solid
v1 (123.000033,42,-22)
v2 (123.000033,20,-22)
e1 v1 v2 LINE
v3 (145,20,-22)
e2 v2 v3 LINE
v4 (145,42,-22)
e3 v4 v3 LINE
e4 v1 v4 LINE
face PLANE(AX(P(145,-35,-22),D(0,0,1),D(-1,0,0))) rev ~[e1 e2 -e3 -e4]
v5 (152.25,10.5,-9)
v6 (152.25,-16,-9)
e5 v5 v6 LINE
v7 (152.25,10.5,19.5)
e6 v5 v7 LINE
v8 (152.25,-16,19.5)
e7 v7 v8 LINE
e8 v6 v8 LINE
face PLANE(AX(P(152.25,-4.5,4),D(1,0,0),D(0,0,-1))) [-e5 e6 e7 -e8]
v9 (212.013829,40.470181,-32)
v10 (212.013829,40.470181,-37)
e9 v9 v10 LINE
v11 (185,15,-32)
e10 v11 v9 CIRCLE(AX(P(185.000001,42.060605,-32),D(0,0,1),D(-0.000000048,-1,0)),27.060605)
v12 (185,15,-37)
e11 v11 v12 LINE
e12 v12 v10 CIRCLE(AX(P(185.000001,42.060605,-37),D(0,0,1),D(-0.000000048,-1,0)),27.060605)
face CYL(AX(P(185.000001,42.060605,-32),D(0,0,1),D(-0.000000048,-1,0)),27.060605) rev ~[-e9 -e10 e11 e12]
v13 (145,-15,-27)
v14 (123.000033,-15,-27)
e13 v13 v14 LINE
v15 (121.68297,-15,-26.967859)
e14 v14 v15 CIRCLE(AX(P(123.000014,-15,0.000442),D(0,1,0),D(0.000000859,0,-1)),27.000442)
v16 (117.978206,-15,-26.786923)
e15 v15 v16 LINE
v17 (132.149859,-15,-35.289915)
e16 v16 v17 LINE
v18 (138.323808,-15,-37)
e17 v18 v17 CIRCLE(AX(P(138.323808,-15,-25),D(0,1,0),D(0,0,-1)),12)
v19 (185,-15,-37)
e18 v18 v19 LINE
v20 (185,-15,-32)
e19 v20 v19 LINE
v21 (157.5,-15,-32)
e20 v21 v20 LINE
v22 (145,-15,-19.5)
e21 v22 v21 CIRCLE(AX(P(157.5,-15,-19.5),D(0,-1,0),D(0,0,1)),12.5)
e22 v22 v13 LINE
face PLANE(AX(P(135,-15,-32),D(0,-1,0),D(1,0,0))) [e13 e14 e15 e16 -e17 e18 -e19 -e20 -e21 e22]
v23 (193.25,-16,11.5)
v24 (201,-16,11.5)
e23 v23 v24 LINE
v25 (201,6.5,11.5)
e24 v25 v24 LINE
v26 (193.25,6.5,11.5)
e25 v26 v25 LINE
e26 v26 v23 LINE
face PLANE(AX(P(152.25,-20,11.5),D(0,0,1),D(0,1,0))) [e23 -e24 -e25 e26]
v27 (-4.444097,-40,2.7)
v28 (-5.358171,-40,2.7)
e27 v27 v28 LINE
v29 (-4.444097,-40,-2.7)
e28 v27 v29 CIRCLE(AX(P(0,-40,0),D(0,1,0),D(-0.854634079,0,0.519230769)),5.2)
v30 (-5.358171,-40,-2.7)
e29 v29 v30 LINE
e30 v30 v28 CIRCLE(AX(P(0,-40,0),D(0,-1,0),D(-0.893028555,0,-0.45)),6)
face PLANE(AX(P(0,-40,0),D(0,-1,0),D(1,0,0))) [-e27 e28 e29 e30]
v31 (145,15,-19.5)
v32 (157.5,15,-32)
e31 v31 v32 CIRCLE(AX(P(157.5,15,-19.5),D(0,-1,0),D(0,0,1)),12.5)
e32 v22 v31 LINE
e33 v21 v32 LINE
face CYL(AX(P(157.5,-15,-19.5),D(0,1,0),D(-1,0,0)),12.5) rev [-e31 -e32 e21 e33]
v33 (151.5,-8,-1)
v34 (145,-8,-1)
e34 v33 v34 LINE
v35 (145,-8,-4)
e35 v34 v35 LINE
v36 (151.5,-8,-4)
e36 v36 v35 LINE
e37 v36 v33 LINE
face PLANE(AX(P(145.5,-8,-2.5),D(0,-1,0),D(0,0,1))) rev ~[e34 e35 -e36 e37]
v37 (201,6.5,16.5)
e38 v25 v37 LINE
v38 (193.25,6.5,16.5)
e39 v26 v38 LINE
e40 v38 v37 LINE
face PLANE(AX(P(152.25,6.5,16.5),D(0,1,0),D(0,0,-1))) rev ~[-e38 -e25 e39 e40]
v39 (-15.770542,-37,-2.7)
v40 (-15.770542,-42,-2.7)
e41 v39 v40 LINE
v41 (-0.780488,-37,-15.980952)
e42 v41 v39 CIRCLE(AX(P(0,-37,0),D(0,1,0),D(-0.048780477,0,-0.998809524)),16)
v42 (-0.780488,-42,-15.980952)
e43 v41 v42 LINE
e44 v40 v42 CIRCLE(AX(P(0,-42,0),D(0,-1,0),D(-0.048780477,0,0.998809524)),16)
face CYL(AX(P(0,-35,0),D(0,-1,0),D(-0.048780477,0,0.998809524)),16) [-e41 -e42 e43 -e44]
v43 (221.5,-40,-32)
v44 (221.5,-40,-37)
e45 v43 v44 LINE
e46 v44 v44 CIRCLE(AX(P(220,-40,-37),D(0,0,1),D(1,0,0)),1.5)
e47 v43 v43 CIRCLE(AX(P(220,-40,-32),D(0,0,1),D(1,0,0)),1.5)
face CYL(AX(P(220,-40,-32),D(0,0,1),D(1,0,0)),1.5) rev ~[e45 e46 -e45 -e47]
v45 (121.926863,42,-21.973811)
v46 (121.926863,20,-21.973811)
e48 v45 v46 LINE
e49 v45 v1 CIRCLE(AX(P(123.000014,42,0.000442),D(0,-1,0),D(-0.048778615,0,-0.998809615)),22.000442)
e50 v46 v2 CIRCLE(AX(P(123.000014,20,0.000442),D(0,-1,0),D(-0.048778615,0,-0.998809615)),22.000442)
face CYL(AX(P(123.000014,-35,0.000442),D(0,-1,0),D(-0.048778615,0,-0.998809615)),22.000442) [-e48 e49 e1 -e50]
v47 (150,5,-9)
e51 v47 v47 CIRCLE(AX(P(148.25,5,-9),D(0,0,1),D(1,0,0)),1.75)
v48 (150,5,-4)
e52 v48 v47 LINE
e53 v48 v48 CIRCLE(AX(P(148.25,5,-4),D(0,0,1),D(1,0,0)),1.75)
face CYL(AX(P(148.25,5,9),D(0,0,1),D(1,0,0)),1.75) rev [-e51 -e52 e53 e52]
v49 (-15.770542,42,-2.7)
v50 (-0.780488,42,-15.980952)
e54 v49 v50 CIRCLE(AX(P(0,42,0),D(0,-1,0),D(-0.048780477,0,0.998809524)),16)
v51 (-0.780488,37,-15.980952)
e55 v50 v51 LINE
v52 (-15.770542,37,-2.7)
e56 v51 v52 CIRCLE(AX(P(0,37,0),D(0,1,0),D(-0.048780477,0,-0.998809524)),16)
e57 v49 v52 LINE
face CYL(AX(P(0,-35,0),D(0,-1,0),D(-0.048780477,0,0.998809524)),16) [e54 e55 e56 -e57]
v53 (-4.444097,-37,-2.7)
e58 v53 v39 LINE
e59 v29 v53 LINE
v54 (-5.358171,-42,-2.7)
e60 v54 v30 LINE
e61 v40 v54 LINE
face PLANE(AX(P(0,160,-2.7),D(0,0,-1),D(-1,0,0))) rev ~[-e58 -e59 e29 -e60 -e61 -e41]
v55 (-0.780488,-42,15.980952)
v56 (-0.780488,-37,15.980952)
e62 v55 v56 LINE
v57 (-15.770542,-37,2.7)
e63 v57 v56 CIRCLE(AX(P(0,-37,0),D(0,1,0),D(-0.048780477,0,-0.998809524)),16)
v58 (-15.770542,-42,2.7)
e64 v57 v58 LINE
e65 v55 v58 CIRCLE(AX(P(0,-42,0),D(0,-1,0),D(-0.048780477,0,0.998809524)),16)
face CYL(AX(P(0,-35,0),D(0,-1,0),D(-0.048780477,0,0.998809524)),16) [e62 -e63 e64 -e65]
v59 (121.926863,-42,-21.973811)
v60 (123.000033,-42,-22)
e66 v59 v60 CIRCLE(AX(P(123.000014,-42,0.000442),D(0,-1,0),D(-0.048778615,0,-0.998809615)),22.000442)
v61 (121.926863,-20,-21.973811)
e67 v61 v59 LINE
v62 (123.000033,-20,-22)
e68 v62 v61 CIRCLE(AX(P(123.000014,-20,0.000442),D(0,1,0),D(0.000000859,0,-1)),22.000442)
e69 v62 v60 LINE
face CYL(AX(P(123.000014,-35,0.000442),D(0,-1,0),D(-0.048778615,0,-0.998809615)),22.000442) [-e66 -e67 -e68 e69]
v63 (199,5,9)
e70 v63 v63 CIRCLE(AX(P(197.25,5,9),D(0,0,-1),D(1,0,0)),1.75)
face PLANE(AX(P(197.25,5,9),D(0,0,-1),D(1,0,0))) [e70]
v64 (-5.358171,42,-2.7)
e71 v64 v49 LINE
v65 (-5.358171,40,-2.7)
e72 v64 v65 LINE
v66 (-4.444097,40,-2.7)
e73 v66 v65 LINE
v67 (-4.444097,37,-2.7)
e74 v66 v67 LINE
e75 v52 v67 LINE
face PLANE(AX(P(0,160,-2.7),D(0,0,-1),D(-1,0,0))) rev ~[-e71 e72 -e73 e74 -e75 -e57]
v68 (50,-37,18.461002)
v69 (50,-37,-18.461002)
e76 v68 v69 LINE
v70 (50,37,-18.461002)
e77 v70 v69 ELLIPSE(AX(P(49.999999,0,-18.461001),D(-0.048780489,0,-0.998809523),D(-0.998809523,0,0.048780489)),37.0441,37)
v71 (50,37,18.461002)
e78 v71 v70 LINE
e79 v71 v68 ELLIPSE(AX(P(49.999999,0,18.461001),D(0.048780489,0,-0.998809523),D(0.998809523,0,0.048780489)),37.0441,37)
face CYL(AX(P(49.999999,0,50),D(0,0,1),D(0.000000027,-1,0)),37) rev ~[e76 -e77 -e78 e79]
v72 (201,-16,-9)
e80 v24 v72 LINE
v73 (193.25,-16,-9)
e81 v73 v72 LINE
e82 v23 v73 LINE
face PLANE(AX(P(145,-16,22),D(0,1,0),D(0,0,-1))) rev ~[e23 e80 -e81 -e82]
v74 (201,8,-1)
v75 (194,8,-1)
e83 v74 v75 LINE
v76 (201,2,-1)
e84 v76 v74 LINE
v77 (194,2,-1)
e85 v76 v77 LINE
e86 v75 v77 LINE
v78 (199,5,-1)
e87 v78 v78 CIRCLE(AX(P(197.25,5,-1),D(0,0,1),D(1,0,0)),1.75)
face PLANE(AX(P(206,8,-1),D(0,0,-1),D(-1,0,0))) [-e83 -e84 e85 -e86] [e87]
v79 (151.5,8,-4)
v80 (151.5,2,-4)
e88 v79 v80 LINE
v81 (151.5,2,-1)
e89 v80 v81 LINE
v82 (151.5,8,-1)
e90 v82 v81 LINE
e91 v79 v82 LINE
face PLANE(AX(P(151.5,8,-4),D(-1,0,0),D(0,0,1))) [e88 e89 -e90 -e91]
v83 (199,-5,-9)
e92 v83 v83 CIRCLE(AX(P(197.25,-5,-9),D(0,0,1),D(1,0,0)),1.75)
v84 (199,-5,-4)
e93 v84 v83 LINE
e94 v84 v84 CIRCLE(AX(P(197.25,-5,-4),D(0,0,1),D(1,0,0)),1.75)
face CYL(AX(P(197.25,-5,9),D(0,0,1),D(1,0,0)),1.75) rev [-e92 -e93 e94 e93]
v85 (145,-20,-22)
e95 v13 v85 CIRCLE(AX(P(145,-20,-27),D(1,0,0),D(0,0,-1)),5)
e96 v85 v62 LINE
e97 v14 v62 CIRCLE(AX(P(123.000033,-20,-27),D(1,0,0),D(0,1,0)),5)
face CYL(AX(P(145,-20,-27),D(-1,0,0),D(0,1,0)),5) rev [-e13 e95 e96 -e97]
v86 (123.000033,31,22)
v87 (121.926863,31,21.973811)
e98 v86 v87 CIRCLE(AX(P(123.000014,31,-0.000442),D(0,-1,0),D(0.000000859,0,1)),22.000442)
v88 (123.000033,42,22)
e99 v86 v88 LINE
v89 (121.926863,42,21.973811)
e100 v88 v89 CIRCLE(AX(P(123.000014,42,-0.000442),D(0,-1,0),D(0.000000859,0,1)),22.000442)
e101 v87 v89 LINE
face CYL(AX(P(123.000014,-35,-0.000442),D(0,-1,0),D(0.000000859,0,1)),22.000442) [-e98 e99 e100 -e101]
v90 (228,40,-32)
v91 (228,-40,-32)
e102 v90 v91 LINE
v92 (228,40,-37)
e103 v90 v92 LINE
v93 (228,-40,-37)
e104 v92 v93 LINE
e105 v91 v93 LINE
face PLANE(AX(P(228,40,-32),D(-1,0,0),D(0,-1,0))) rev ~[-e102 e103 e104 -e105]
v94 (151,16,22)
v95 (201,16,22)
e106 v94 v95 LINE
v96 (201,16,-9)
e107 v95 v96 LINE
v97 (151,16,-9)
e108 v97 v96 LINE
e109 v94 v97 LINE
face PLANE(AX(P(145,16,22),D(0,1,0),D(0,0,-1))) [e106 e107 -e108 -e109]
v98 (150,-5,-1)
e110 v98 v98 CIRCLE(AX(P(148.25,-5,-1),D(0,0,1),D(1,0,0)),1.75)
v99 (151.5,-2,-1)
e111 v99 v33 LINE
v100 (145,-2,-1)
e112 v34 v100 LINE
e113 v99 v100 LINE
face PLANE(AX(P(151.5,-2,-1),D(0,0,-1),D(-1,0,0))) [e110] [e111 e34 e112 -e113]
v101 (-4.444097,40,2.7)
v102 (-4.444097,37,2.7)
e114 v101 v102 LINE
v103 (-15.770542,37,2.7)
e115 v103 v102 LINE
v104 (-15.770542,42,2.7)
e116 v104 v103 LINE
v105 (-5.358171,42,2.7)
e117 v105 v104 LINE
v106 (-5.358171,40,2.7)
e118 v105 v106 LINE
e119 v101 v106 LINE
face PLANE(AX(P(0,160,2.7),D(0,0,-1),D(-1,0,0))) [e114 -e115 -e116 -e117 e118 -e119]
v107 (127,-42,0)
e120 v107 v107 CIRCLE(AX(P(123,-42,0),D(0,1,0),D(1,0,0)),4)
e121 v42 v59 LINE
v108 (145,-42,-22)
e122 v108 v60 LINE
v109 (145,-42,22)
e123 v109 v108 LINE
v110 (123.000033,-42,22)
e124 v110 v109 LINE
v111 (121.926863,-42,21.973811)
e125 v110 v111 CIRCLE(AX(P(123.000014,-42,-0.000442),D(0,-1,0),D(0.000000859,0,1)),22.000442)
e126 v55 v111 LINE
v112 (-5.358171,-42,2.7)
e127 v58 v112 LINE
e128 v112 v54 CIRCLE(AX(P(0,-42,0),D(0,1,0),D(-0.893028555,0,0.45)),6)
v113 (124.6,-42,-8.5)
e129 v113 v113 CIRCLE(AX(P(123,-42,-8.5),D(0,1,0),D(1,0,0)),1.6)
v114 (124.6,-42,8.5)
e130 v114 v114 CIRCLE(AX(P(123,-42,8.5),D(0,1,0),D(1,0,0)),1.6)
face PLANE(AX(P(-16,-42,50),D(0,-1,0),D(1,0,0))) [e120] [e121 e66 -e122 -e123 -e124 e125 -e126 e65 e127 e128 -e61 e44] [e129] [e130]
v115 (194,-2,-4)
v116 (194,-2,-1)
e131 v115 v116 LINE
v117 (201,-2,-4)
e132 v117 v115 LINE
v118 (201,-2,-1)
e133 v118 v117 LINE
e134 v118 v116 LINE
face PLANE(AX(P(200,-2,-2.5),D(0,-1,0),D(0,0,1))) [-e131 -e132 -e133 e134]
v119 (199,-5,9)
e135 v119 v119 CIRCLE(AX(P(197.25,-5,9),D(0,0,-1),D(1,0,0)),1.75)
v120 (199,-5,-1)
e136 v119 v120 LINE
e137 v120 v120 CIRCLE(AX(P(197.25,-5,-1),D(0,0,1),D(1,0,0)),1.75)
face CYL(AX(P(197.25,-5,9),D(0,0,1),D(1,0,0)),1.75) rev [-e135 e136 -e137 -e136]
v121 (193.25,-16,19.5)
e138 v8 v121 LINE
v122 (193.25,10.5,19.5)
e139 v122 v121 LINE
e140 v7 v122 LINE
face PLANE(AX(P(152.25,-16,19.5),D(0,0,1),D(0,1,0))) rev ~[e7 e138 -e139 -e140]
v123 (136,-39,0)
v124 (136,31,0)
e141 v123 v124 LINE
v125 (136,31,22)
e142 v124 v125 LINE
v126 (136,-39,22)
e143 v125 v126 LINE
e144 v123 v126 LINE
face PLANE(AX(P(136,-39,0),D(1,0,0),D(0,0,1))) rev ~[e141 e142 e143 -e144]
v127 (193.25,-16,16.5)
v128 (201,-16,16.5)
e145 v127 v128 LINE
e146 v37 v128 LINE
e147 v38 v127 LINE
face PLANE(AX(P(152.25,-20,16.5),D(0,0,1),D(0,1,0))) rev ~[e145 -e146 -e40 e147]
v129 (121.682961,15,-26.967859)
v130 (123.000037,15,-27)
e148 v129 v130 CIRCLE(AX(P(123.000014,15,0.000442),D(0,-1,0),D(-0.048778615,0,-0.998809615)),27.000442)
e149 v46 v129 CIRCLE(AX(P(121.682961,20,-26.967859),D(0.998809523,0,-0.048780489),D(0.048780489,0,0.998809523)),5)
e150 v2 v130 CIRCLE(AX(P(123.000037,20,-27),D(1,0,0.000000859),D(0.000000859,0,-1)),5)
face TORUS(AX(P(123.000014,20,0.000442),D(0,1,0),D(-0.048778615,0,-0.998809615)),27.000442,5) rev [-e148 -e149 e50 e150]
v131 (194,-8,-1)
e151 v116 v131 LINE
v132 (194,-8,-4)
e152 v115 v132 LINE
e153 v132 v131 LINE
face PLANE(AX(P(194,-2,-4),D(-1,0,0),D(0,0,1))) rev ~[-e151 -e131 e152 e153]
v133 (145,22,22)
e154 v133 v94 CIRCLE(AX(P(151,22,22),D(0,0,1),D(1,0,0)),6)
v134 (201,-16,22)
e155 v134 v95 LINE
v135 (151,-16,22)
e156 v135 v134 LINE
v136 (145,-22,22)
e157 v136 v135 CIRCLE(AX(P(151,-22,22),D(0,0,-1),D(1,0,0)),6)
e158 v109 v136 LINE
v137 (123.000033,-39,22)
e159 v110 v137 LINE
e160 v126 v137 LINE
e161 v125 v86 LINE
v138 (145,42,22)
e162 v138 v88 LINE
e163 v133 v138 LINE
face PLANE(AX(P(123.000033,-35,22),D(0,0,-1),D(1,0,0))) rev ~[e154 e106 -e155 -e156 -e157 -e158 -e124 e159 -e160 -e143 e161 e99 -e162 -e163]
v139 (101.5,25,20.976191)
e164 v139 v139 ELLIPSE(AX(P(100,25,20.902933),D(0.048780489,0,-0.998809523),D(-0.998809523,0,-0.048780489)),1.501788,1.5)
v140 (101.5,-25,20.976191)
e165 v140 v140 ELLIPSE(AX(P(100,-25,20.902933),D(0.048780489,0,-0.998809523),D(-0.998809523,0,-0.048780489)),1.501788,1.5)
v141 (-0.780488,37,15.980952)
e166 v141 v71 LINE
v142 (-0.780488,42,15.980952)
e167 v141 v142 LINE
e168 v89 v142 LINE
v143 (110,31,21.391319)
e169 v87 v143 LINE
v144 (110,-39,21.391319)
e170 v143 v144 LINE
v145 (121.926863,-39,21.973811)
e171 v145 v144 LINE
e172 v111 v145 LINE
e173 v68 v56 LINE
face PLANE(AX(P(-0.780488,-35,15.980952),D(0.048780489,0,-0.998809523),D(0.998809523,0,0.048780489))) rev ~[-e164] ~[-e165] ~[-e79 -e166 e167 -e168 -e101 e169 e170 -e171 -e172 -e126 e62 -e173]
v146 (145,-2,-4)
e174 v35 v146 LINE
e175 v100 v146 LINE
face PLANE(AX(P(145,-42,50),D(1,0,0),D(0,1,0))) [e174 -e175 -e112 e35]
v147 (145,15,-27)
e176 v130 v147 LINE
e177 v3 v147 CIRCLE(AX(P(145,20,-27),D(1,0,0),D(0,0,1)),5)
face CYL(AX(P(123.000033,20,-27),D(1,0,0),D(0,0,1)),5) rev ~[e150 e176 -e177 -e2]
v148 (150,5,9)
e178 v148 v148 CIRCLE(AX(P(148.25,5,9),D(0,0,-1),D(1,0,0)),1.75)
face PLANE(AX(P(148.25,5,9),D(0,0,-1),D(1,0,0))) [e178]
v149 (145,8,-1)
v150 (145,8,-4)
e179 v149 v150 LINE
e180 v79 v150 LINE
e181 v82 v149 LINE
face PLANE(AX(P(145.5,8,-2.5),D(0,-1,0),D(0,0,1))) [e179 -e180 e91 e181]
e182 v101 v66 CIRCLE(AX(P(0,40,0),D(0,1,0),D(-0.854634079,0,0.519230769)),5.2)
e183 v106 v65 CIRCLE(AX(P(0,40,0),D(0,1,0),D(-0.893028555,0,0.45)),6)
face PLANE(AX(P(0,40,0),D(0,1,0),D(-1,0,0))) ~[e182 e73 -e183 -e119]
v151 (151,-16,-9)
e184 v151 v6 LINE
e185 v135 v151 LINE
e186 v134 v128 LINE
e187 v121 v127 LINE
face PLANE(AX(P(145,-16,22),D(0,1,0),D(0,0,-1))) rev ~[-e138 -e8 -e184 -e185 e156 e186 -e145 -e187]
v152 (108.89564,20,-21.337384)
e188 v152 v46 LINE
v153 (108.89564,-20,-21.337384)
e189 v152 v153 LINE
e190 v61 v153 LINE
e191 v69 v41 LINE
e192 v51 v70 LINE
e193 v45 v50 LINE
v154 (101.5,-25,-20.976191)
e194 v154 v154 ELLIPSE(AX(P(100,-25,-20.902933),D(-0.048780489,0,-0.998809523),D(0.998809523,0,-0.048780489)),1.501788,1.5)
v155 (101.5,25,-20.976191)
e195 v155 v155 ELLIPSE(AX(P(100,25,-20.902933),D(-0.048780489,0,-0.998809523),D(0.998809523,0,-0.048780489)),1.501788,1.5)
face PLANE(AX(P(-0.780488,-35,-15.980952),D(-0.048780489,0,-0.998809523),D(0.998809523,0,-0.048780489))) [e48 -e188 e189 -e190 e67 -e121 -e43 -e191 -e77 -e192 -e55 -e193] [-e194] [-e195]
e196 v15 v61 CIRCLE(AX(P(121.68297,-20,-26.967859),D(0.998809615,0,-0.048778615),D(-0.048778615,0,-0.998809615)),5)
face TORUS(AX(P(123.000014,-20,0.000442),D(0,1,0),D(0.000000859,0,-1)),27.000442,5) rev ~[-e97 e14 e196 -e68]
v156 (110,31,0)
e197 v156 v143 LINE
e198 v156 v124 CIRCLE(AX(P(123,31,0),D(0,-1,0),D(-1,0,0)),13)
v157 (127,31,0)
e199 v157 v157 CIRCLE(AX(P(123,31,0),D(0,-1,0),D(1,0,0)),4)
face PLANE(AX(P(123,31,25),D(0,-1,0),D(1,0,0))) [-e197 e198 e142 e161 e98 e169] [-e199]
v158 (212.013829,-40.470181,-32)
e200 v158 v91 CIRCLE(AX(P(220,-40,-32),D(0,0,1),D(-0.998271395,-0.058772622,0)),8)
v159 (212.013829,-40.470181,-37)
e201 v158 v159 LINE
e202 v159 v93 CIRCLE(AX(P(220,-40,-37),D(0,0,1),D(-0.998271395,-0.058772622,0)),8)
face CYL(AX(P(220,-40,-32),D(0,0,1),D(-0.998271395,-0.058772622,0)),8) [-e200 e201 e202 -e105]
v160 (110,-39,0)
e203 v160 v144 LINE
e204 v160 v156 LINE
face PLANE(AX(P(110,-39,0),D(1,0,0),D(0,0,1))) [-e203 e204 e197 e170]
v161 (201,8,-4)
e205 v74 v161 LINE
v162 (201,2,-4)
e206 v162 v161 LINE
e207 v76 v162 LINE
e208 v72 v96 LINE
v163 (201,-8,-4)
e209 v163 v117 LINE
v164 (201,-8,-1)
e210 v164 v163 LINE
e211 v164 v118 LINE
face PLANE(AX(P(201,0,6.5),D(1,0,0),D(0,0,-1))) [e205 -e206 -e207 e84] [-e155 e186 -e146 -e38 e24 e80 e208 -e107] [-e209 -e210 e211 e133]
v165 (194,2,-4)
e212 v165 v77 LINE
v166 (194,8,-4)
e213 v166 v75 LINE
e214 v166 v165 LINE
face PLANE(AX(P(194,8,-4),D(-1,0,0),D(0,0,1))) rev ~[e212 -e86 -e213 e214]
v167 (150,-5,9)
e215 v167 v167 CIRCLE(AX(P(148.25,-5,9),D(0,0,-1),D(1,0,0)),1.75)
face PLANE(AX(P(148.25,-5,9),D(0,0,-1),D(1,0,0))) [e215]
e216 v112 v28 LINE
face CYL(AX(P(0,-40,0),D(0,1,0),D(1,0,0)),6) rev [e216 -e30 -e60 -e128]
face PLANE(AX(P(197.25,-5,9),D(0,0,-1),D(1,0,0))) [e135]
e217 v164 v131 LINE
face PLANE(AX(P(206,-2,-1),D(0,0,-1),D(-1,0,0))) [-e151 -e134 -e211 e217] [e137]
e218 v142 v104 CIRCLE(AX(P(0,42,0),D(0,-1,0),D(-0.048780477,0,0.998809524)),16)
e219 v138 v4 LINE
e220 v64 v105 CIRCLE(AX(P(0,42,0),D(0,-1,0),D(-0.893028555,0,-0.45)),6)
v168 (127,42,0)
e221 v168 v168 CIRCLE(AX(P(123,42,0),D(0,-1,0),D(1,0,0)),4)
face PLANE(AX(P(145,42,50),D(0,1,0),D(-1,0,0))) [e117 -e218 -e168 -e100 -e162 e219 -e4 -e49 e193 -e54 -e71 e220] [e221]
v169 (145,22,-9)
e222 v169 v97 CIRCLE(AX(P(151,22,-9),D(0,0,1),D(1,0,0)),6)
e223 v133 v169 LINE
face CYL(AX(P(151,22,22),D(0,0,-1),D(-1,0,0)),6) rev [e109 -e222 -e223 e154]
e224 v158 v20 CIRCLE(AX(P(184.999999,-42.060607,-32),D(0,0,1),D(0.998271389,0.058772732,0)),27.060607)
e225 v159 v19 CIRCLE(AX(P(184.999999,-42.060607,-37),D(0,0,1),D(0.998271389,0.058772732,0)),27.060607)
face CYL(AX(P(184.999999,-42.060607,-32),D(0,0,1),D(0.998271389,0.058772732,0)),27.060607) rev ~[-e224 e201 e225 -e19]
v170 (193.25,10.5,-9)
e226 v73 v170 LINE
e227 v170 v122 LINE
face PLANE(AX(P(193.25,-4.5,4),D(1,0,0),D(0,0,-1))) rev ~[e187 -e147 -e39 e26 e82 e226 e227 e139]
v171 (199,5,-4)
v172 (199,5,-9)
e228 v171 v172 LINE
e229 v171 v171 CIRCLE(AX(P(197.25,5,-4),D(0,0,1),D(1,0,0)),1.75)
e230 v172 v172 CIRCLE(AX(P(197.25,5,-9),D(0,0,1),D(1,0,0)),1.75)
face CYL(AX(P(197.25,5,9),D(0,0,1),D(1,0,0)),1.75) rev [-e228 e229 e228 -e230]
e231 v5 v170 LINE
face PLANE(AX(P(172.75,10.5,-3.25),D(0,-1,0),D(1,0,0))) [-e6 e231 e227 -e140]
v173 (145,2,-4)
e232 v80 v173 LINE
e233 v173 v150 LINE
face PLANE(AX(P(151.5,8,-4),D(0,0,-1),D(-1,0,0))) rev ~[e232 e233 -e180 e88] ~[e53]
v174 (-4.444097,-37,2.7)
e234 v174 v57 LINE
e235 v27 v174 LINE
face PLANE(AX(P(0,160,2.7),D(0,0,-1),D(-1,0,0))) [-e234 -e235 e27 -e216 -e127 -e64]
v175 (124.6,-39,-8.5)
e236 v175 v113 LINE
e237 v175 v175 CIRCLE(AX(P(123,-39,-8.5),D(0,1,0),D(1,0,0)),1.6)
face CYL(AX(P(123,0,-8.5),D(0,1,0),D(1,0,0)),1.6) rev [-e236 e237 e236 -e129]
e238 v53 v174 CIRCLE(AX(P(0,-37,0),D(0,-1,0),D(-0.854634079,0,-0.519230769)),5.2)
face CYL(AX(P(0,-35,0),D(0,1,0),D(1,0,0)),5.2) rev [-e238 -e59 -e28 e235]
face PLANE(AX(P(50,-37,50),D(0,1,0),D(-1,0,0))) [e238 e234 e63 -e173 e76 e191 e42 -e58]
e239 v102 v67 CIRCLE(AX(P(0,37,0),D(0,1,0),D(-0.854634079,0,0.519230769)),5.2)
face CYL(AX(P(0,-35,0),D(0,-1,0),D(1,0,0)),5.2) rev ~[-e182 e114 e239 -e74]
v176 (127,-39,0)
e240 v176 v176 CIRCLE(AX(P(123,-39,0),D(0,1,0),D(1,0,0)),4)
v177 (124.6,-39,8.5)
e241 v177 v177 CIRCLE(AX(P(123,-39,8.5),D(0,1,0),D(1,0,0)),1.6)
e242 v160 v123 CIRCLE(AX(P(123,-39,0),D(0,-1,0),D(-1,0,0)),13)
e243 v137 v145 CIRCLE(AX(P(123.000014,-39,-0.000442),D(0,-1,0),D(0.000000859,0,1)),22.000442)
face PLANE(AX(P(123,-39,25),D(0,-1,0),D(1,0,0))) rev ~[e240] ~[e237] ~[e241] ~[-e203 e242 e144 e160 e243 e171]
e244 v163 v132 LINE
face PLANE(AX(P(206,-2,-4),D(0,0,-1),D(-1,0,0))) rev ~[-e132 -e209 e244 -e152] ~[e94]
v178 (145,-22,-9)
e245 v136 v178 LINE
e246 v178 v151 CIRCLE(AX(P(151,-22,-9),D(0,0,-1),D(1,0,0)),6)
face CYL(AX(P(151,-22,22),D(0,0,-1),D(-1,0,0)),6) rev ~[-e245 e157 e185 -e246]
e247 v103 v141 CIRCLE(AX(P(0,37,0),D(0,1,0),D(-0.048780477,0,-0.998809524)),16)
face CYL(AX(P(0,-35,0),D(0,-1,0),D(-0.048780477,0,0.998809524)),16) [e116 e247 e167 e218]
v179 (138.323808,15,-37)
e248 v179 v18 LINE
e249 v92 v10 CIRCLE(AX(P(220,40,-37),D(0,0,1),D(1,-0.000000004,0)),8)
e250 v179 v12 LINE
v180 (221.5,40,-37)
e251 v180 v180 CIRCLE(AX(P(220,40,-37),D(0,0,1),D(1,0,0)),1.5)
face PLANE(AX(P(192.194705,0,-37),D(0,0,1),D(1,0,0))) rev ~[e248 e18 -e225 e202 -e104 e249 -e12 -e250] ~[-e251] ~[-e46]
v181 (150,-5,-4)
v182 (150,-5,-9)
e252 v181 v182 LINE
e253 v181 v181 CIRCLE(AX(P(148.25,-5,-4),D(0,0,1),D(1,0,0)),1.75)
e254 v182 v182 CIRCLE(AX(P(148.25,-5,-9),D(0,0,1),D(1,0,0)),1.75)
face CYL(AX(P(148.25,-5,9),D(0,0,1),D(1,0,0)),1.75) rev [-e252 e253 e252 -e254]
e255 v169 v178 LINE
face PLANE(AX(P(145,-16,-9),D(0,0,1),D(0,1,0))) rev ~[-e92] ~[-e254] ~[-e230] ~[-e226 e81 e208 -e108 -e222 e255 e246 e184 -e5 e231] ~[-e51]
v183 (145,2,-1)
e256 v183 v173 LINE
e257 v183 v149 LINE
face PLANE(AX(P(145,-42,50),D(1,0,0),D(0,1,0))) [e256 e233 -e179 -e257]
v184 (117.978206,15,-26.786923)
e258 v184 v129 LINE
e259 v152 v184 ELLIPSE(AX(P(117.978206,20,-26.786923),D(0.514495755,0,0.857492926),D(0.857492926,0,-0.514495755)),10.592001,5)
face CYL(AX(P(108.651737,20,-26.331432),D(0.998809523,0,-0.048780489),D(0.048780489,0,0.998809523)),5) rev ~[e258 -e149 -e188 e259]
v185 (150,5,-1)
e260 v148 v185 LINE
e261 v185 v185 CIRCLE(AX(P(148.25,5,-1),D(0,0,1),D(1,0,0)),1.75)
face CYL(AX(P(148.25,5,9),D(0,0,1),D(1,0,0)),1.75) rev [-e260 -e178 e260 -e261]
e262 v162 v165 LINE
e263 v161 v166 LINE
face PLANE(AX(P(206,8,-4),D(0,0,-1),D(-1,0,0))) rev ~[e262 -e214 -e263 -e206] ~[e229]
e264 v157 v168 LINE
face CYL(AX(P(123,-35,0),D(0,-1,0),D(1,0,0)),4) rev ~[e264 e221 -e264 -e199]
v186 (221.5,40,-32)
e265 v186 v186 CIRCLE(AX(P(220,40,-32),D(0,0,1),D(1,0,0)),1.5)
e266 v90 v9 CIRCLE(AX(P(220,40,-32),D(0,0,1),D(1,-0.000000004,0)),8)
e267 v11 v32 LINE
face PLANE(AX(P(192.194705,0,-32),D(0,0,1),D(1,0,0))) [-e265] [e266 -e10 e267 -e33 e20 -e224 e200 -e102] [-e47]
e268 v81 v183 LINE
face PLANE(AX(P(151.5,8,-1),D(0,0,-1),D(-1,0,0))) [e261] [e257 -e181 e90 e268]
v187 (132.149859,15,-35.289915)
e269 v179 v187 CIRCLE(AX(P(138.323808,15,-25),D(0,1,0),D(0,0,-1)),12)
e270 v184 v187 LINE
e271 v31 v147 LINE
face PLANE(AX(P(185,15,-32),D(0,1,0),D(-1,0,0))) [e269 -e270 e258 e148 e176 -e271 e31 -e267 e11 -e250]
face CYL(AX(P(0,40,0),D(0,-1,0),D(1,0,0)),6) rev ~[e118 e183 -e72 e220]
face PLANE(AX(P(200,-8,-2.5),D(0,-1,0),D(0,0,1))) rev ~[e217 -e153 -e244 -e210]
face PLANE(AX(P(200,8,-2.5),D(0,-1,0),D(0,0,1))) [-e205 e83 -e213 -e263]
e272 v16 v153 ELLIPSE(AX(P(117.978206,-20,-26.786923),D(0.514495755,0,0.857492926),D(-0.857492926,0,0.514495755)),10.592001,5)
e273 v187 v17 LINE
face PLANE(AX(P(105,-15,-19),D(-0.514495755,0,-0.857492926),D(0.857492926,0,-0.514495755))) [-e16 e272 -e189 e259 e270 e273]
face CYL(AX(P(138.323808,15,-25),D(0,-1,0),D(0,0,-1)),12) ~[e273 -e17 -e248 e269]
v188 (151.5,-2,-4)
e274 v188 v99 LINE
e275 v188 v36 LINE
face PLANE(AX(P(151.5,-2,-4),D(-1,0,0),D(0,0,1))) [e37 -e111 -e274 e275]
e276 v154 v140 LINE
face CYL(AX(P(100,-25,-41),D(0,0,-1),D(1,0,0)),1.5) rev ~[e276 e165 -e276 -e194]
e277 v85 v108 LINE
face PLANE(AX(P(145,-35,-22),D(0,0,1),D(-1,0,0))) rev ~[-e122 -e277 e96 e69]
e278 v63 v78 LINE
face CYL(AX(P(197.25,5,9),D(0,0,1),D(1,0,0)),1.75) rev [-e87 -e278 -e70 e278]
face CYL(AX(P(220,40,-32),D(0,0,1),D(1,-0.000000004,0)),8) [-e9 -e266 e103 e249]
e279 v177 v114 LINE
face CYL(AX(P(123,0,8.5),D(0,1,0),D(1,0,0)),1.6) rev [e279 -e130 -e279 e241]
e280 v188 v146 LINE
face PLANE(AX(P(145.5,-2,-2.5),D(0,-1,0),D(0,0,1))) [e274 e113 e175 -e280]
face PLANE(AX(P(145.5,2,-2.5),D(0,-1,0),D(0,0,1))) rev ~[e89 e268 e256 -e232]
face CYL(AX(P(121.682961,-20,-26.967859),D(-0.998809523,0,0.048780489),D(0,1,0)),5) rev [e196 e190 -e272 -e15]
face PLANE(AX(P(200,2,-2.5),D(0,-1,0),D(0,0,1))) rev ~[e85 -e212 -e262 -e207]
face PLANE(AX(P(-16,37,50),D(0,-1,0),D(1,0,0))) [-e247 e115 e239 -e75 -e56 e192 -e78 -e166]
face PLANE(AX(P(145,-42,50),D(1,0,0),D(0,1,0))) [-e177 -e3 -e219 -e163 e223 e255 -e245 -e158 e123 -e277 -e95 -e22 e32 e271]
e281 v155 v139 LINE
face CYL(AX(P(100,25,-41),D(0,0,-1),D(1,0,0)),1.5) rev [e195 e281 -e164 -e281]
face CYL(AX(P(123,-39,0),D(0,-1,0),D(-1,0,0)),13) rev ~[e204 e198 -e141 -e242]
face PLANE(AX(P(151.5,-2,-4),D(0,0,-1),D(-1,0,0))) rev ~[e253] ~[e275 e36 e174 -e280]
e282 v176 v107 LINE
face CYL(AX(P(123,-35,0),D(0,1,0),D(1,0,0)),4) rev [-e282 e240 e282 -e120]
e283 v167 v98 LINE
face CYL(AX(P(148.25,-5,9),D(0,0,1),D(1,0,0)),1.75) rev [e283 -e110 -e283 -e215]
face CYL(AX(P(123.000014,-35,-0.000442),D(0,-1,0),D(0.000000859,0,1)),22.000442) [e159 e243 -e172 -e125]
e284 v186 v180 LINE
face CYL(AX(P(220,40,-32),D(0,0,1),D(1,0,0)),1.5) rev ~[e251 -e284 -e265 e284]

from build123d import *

# Parameters (mm, degrees)
CYLINDER023_R            = 1.5
CYLINDER023_DEPTH        = 75
CYLINDER022_R            = 6
CYLINDER022_DEPTH        = 2
CYLINDER022_ROLL_ANGLE   = 90
PAD013_DEPTH             = 255
BOX014_W                 = 5
BOX014_H                 = 26.5
BOX014_DEPTH             = 56
BOX013_W                 = 31
BOX013_H                 = 23
BOX013_DEPTH             = 41
CYLINDER009_R            = 1.75
CYLINDER009_DEPTH        = 50
CYLINDER009_ROLL_ANGLE   = 90
CYLINDER007_R            = 1.75
CYLINDER007_DEPTH        = 50
CYLINDER007_ROLL_ANGLE   = 90
CYLINDER006_R            = 1.75
CYLINDER006_DEPTH        = 50
CYLINDER006_ROLL_ANGLE   = 90
CYLINDER008_R            = 1.75
CYLINDER008_DEPTH        = 50
CYLINDER008_ROLL_ANGLE   = 90
BOX012_W                 = 3
BOX012_H                 = 12
BOX012_DEPTH             = 6
BOX012_PLACEMENT_ANGLE   = 90
BOX010_W                 = 3
BOX010_H                 = 12
BOX010_DEPTH             = 6
BOX010_PLACEMENT_ANGLE   = 90
BOX009_W                 = 3
BOX009_H                 = 12
BOX009_DEPTH             = 6
BOX009_PLACEMENT_ANGLE   = 90
BOX011_W                 = 3
BOX011_H                 = 12
BOX011_DEPTH             = 6
BOX011_PLACEMENT_ANGLE   = 90
BOX004_W                 = 41
BOX004_H                 = 45.5
BOX004_DEPTH             = 21
CLONE003_PITCH_ANGLE     = -90
CLONE003_PLACEMENT_ANGLE = 90
BOX_W                    = 31
BOX_H                    = 32
BOX_DEPTH                = 56
CUT004_PITCH_ANGLE       = 90
CYLINDER002_R            = 1.6
CYLINDER002_DEPTH        = 100
CYLINDER002_ROLL_ANGLE   = 90
PAD002_DEPTH             = 70
SKETCH_R                 = 5.2
SKETCH_R_2               = 4
PAD_DEPTH                = 10
PAD_DEPTH_BACK           = 80
PAD001_DEPTH             = 100
PAD006_DEPTH             = 30
SKETCH003_R              = 1.5
PAD007_DEPTH             = 5
FILLET_R                 = 12.5
FILLET001_R              = 12
FILLET002_R              = 5
FILLET003_R              = 6


with BuildPart() as cilindro023:
    # Cylinder023 → Cylinder023 (new body)
    with BuildSketch(Plane(origin=(100, 25, -41), x_dir=(1, 0, 0), z_dir=(0, 0, 1))):
        Circle(CYLINDER023_R)
    extrude(amount=CYLINDER023_DEPTH)


with BuildPart() as fusion018:
    # Part__Mirroring004: instance of Cilindro023
    add(cilindro023.part.mirror(Plane(origin=(0, 0, 0), x_dir=(1, 0, 0), z_dir=(0, 1, 0))))

    # Fusion018: union Cilindro023
    add(cilindro023.part)


with BuildPart() as cilindro022:
    # Cylinder022 → Cylinder022 (new body)
    with BuildSketch(Plane.XY):
        Circle(CYLINDER022_R)
    extrude(amount=CYLINDER022_DEPTH)


with BuildPart() as cilindro022_1:
    # Cylinder022 roll: moved
    add(cilindro022.part.rotate(Axis((0, 0, 0), (1, 0, 0)), CYLINDER022_ROLL_ANGLE))


with BuildPart() as cilindro022_2:
    # Cylinder022 placement: moved
    add(cilindro022_1.part.moved(Location((0, -40, 0))))


with BuildPart() as part_mirroring003:
    # Part__Mirroring003: instance of Cilindro022
    add(cilindro022_2.part.mirror(Plane(origin=(0, 0, 0), x_dir=(1, 0, 0), z_dir=(0, 1, 0))))


with BuildPart() as fusion017:
    # Sketch010 → Pad013 (new body)
    with BuildSketch(Plane(origin=(0, 160, 0), x_dir=(-1, 0, 0), z_dir=(0, 1, 0))):
        with BuildLine():
            ThreePointArc((0, 2.7), (-2.7, 0), (0, -2.7))
            Line((0, -2.7), (30.426721, -2.7))
            ThreePointArc((30.426721, -2.7), (33.126721, 0), (30.426721, 2.7))
            Line((0, 2.7), (30.426721, 2.7))
        make_face()
    extrude(amount=-PAD013_DEPTH)

    # Fusion017: union Part__Mirroring003, Cilindro022
    add(part_mirroring003.part)
    add(cilindro022_2.part)


with BuildPart() as cubo006:
    # Box014 → Box014 (new body)
    with BuildSketch(Plane(origin=(150.5, -20, -26.75), x_dir=(1, 0, 0), z_dir=(0, 0, 1))):
        with Locations((2.5, 13.25)):
            Rectangle(BOX014_W, BOX014_H)
    extrude(amount=BOX014_DEPTH)


with BuildPart() as cubo005:
    # Box013 → Box013 (new body)
    with BuildSketch(Plane(origin=(147.5, -16, -26.75), x_dir=(1, 0, 0), z_dir=(0, 0, 1))):
        with Locations((15.5, 11.5)):
            Rectangle(BOX013_W, BOX013_H)
    extrude(amount=BOX013_DEPTH)


with BuildPart() as cilindro009:
    # Cylinder009 → Cylinder009 (new body)
    with BuildSketch(Plane.XY):
        Circle(CYLINDER009_R)
    extrude(amount=CYLINDER009_DEPTH)


with BuildPart() as cilindro009_1:
    # Cylinder009 roll: moved
    add(cilindro009.part.rotate(Axis((0, 0, 0), (1, 0, 0)), CYLINDER009_ROLL_ANGLE))


with BuildPart() as cilindro009_2:
    # Cylinder009 placement: moved
    add(cilindro009_1.part.moved(Location((14.25, 0, 17))))


with BuildPart() as cilindro007:
    # Cylinder007 → Cylinder007 (new body)
    with BuildSketch(Plane.XY):
        Circle(CYLINDER007_R)
    extrude(amount=CYLINDER007_DEPTH)


with BuildPart() as cilindro007_1:
    # Cylinder007 roll: moved
    add(cilindro007.part.rotate(Axis((0, 0, 0), (1, 0, 0)), CYLINDER007_ROLL_ANGLE))


with BuildPart() as cilindro007_2:
    # Cylinder007 placement: moved
    add(cilindro007_1.part.moved(Location((14.25, 0, 7))))


with BuildPart() as cilindro006:
    # Cylinder006 → Cylinder006 (new body)
    with BuildSketch(Plane.XY):
        Circle(CYLINDER006_R)
    extrude(amount=CYLINDER006_DEPTH)


with BuildPart() as cilindro006_1:
    # Cylinder006 roll: moved
    add(cilindro006.part.rotate(Axis((0, 0, 0), (1, 0, 0)), CYLINDER006_ROLL_ANGLE))


with BuildPart() as cilindro006_2:
    # Cylinder006 placement: moved
    add(cilindro006_1.part.moved(Location((-34.75, 0, 7))))


with BuildPart() as fusion003:
    # Cylinder008 → Cylinder008 (new body)
    with BuildSketch(Plane.XY):
        Circle(CYLINDER008_R)
    extrude(amount=CYLINDER008_DEPTH)


with BuildPart() as fusion003_1:
    # Cylinder008 roll: moved
    add(fusion003.part.rotate(Axis((0, 0, 0), (1, 0, 0)), CYLINDER008_ROLL_ANGLE))


with BuildPart() as fusion003_2:
    # Cylinder008 placement: moved
    add(fusion003_1.part.moved(Location((-34.75, 0, 17))))

    # Fusion003: union Cilindro009, Cilindro007, Cilindro006
    add(cilindro009_2.part)
    add(cilindro007_2.part)
    add(cilindro006_2.part)


with BuildPart() as fusion003_3:
    # Fusion003 placement: moved
    add(fusion003_2.part.moved(Location((0, -10, -12))))


with BuildPart() as cube010:
    # Box012 → Box012 (new body)
    with BuildSketch(Plane.XY):
        with Locations((1.5, 6)):
            Rectangle(BOX012_W, BOX012_H)
    extrude(amount=BOX012_DEPTH)


with BuildPart() as cube010_1:
    # Box012 placement: moved
    add(cube010.part.moved(Location((-31.5, -20, -8))).rotate(Axis((-31.5, -20, -8), (0, 0, 1)), BOX012_PLACEMENT_ANGLE))


with BuildPart() as cube008:
    # Box010 → Box010 (new body)
    with BuildSketch(Plane.XY):
        with Locations((1.5, 6)):
            Rectangle(BOX010_W, BOX010_H)
    extrude(amount=BOX010_DEPTH)


with BuildPart() as cube008_1:
    # Box010 placement: moved
    add(cube008.part.moved(Location((23, -20, 2))).rotate(Axis((23, -20, 2), (0, 0, 1)), BOX010_PLACEMENT_ANGLE))


with BuildPart() as cube007:
    # Box009 → Box009 (new body)
    with BuildSketch(Plane.XY):
        with Locations((1.5, 6)):
            Rectangle(BOX009_W, BOX009_H)
    extrude(amount=BOX009_DEPTH)


with BuildPart() as cube007_1:
    # Box009 placement: moved
    add(cube007.part.moved(Location((23, -20, -8))).rotate(Axis((23, -20, -8), (0, 0, 1)), BOX009_PLACEMENT_ANGLE))


with BuildPart() as nuts_room:
    # Box011 → Box011 (new body)
    with BuildSketch(Plane.XY):
        with Locations((1.5, 6)):
            Rectangle(BOX011_W, BOX011_H)
    extrude(amount=BOX011_DEPTH)


with BuildPart() as nuts_room_1:
    # Box011 placement: moved
    add(nuts_room.part.moved(Location((-31.5, -20, 2))).rotate(Axis((-31.5, -20, 2), (0, 0, 1)), BOX011_PLACEMENT_ANGLE))

    # Fusion009: union Cube010, Cube008, Cube007
    add(cube010_1.part)
    add(cube008_1.part)
    add(cube007_1.part)


with BuildPart() as nuts_room_2:
    # Fusion009 placement: moved
    add(nuts_room_1.part.moved(Location((0, -3, 0))))


with BuildPart() as clone_of_fusion010:
    # Box004 → Box004 (new body)
    with BuildSketch(Plane(origin=(-30.75, -45, -10.5), x_dir=(1, 0, 0), z_dir=(0, 0, 1))):
        with Locations((20.5, 22.75)):
            Rectangle(BOX004_W, BOX004_H)
    extrude(amount=BOX004_DEPTH)

    # Fusion010: union Fusion003, nuts_room
    add(fusion003_3.part)
    add(nuts_room_2.part)


with BuildPart() as clone_of_fusion010_1:
    # Clone003 pitch: moved
    add(clone_of_fusion010.part.rotate(Axis((0, 0, 0), (0, 1, 0)), CLONE003_PITCH_ANGLE))


with BuildPart() as clone_of_fusion010_2:
    # Clone003 placement: moved
    add(clone_of_fusion010_1.part.moved(Location((148, 0, 4))).rotate(Axis((148, 0, 4), (0, 0, 1)), CLONE003_PLACEMENT_ANGLE))


with BuildPart() as cut004:
    # Box → Box (new body)
    with BuildSketch(Plane(origin=(145, -16, -34), x_dir=(1, 0, 0), z_dir=(0, 0, 1))):
        with Locations((15.5, 16)):
            Rectangle(BOX_W, BOX_H)
    extrude(amount=BOX_DEPTH)

    # Cut002: cut Clone of Fusion010
    add(clone_of_fusion010_2.part, mode=Mode.SUBTRACT)

    # Cut003: cut Cubo005
    add(cubo005.part, mode=Mode.SUBTRACT)

    # Cut004: cut Cubo006
    add(cubo006.part, mode=Mode.SUBTRACT)


with BuildPart() as cut004_1:
    # Cut004 pitch: moved
    add(cut004.part.rotate(Axis((0, 0, 0), (0, 1, 0)), CUT004_PITCH_ANGLE))


with BuildPart() as cut004_2:
    # Cut004 placement: moved
    add(cut004_1.part.moved(Location((179, 0, 167))))


with BuildPart() as cilindro002:
    # Cylinder002 → Cylinder002 (new body)
    with BuildSketch(Plane.XY):
        Circle(CYLINDER002_R)
    extrude(amount=CYLINDER002_DEPTH)


with BuildPart() as cilindro002_1:
    # Cylinder002 roll: moved
    add(cilindro002.part.rotate(Axis((0, 0, 0), (1, 0, 0)), CYLINDER002_ROLL_ANGLE))


with BuildPart() as cilindro002_2:
    # Cylinder002 placement: moved
    add(cilindro002_1.part.moved(Location((123, 0, 8.5))))


with BuildPart() as clone_of_cilindro002:
    # Clone base: copy of Cilindro002
    add(cilindro002_2.part)


with BuildPart() as clone_of_cilindro002_1:
    # Clone placement: moved
    add(clone_of_cilindro002.part.moved(Location((0, 0, -17))))


with BuildPart() as fusion001:
    # Fusion001 base: copy of Cilindro002
    add(cilindro002_2.part)

    # Fusion001: union Clone of Cilindro002
    add(clone_of_cilindro002_1.part)


with BuildPart() as pad002:
    # Sketch002 → Pad002 (new body)
    with BuildSketch(Plane.XZ.offset(39)):
        with BuildLine():
            ThreePointArc((110, 0), (123, -13), (136, 0))
            Line((136, 0), (136, 50))
            ThreePointArc((136, 50), (123, 63), (110, 50))
            Line((110, 0), (110, 50))
        make_face()
    extrude(amount=-PAD002_DEPTH)


with BuildPart() as cut:
    # Sketch → Pad (new body, two sides)
    with BuildSketch(Plane.XZ.offset(35)) as pad_sk:
        with BuildLine():
            ThreePointArc((-0.780488, 15.980952), (-16, 0), (-0.780488, -15.980952))
            Line((-0.780488, -15.980952), (121.926863, -21.973811))
            ThreePointArc((121.926863, -21.973811), (122.463288, -21.993452), (123.000033, -22))
            Line((145, -22), (123.000033, -22))
            Line((145, 22), (145, -22))
            Line((123.000033, 22), (145, 22))
            ThreePointArc((123.000033, 22), (122.463288, 21.993452), (121.926863, 21.973811))
            Line((-0.780488, 15.980952), (121.926863, 21.973811))
        make_face()
        Circle(SKETCH_R, mode=Mode.SUBTRACT)
        with Locations((123, 0)):
            Circle(SKETCH_R_2, mode=Mode.SUBTRACT)
    extrude(amount=PAD_DEPTH)
    extrude(pad_sk.sketch, amount=-PAD_DEPTH_BACK)

    # Cut: cut Pad002
    add(pad002.part, mode=Mode.SUBTRACT)


with BuildPart() as cut001:
    # Sketch001 → Pad001 (new body)
    with BuildSketch(Plane.XY.offset(50)):
        with BuildLine():
            Line((-16, 42), (-16, 37))
            Line((-16, 37), (50, 37))
            ThreePointArc((50, -37), (86.999999, 0), (50, 37))
            Line((50, -37), (-16, -37))
            Line((-16, -37), (-16, -42))
            Line((-16, -42), (145, -42))
            Line((145, -42), (145, 42))
            Line((145, 42), (-16, 42))
        make_face()
    extrude(amount=-PAD001_DEPTH)

    # Common: intersect Cut
    add(cut.part, mode=Mode.INTERSECT)

    # Cut001: cut Fusion001
    add(fusion001.part, mode=Mode.SUBTRACT)


with BuildPart() as pad006:
    # Sketch004 → Pad006 (new body)
    with BuildSketch(Plane.XZ.offset(15)):
        Polygon((145, -37), (145, -19), (105, -19), (135, -37), align=None)
    extrude(amount=-PAD006_DEPTH)


with BuildPart() as cut019:
    # Sketch003 → Pad007 (new body)
    with BuildSketch(Plane.XY.offset(-32)):
        with BuildLine():
            ThreePointArc((228, 40), (220.235192, 47.996542), (212.013829, 40.470181))
            ThreePointArc((185, 15), (203.563924, 22.371595), (212.013829, 40.470181))
            Line((185, 15), (135, 15))
            Line((135, 15), (135, -15))
            Line((135, -15), (185, -15))
            ThreePointArc((212.013829, -40.470181), (203.563924, -22.371596), (185, -15))
            ThreePointArc((212.013829, -40.470181), (220.235192, -47.996542), (228, -40))
            Line((228, 40), (228, -40))
        make_face()
        with Locations((220, 40)):
            Circle(SKETCH003_R, mode=Mode.SUBTRACT)
        with Locations((220, -40)):
            Circle(SKETCH003_R, mode=Mode.SUBTRACT)
    extrude(amount=-PAD007_DEPTH)

    # Fusion011: union Pad006
    add(pad006.part)

    # Fillet
    fillet_edges = [cut019.edges().sort_by_distance(p)[0] for p in [
        (145, 0, -32),
    ]]
    fillet(fillet_edges, radius=FILLET_R)

    # Fillet001
    fillet001_edges = [cut019.edges().sort_by_distance(p)[0] for p in [
        (135, 0, -37),
    ]]
    fillet(fillet001_edges, radius=FILLET001_R)

    # Fusion012: union Cut001
    add(cut001.part)

    # Fillet002
    fillet002_edges = [cut019.edges().sort_by_distance(p)[0] for p in [
        (134.000017, -15, -22),
        (134.000017, 15, -22),
    ]]
    fillet(fillet002_edges, radius=FILLET002_R)

    # Fusion013: union Cut004
    add(cut004_2.part)

    # Fillet003
    fillet003_edges = [cut019.edges().sort_by_distance(p)[0] for p in [
        (145, -16, 6.5),
        (145, 16, 6.5),
    ]]
    fillet(fillet003_edges, radius=FILLET003_R)

    # Cut018: cut Fusion017
    add(fusion017.part, mode=Mode.SUBTRACT)

    # Cut019: cut Fusion018
    add(fusion018.part, mode=Mode.SUBTRACT)


solid = cut019.part
